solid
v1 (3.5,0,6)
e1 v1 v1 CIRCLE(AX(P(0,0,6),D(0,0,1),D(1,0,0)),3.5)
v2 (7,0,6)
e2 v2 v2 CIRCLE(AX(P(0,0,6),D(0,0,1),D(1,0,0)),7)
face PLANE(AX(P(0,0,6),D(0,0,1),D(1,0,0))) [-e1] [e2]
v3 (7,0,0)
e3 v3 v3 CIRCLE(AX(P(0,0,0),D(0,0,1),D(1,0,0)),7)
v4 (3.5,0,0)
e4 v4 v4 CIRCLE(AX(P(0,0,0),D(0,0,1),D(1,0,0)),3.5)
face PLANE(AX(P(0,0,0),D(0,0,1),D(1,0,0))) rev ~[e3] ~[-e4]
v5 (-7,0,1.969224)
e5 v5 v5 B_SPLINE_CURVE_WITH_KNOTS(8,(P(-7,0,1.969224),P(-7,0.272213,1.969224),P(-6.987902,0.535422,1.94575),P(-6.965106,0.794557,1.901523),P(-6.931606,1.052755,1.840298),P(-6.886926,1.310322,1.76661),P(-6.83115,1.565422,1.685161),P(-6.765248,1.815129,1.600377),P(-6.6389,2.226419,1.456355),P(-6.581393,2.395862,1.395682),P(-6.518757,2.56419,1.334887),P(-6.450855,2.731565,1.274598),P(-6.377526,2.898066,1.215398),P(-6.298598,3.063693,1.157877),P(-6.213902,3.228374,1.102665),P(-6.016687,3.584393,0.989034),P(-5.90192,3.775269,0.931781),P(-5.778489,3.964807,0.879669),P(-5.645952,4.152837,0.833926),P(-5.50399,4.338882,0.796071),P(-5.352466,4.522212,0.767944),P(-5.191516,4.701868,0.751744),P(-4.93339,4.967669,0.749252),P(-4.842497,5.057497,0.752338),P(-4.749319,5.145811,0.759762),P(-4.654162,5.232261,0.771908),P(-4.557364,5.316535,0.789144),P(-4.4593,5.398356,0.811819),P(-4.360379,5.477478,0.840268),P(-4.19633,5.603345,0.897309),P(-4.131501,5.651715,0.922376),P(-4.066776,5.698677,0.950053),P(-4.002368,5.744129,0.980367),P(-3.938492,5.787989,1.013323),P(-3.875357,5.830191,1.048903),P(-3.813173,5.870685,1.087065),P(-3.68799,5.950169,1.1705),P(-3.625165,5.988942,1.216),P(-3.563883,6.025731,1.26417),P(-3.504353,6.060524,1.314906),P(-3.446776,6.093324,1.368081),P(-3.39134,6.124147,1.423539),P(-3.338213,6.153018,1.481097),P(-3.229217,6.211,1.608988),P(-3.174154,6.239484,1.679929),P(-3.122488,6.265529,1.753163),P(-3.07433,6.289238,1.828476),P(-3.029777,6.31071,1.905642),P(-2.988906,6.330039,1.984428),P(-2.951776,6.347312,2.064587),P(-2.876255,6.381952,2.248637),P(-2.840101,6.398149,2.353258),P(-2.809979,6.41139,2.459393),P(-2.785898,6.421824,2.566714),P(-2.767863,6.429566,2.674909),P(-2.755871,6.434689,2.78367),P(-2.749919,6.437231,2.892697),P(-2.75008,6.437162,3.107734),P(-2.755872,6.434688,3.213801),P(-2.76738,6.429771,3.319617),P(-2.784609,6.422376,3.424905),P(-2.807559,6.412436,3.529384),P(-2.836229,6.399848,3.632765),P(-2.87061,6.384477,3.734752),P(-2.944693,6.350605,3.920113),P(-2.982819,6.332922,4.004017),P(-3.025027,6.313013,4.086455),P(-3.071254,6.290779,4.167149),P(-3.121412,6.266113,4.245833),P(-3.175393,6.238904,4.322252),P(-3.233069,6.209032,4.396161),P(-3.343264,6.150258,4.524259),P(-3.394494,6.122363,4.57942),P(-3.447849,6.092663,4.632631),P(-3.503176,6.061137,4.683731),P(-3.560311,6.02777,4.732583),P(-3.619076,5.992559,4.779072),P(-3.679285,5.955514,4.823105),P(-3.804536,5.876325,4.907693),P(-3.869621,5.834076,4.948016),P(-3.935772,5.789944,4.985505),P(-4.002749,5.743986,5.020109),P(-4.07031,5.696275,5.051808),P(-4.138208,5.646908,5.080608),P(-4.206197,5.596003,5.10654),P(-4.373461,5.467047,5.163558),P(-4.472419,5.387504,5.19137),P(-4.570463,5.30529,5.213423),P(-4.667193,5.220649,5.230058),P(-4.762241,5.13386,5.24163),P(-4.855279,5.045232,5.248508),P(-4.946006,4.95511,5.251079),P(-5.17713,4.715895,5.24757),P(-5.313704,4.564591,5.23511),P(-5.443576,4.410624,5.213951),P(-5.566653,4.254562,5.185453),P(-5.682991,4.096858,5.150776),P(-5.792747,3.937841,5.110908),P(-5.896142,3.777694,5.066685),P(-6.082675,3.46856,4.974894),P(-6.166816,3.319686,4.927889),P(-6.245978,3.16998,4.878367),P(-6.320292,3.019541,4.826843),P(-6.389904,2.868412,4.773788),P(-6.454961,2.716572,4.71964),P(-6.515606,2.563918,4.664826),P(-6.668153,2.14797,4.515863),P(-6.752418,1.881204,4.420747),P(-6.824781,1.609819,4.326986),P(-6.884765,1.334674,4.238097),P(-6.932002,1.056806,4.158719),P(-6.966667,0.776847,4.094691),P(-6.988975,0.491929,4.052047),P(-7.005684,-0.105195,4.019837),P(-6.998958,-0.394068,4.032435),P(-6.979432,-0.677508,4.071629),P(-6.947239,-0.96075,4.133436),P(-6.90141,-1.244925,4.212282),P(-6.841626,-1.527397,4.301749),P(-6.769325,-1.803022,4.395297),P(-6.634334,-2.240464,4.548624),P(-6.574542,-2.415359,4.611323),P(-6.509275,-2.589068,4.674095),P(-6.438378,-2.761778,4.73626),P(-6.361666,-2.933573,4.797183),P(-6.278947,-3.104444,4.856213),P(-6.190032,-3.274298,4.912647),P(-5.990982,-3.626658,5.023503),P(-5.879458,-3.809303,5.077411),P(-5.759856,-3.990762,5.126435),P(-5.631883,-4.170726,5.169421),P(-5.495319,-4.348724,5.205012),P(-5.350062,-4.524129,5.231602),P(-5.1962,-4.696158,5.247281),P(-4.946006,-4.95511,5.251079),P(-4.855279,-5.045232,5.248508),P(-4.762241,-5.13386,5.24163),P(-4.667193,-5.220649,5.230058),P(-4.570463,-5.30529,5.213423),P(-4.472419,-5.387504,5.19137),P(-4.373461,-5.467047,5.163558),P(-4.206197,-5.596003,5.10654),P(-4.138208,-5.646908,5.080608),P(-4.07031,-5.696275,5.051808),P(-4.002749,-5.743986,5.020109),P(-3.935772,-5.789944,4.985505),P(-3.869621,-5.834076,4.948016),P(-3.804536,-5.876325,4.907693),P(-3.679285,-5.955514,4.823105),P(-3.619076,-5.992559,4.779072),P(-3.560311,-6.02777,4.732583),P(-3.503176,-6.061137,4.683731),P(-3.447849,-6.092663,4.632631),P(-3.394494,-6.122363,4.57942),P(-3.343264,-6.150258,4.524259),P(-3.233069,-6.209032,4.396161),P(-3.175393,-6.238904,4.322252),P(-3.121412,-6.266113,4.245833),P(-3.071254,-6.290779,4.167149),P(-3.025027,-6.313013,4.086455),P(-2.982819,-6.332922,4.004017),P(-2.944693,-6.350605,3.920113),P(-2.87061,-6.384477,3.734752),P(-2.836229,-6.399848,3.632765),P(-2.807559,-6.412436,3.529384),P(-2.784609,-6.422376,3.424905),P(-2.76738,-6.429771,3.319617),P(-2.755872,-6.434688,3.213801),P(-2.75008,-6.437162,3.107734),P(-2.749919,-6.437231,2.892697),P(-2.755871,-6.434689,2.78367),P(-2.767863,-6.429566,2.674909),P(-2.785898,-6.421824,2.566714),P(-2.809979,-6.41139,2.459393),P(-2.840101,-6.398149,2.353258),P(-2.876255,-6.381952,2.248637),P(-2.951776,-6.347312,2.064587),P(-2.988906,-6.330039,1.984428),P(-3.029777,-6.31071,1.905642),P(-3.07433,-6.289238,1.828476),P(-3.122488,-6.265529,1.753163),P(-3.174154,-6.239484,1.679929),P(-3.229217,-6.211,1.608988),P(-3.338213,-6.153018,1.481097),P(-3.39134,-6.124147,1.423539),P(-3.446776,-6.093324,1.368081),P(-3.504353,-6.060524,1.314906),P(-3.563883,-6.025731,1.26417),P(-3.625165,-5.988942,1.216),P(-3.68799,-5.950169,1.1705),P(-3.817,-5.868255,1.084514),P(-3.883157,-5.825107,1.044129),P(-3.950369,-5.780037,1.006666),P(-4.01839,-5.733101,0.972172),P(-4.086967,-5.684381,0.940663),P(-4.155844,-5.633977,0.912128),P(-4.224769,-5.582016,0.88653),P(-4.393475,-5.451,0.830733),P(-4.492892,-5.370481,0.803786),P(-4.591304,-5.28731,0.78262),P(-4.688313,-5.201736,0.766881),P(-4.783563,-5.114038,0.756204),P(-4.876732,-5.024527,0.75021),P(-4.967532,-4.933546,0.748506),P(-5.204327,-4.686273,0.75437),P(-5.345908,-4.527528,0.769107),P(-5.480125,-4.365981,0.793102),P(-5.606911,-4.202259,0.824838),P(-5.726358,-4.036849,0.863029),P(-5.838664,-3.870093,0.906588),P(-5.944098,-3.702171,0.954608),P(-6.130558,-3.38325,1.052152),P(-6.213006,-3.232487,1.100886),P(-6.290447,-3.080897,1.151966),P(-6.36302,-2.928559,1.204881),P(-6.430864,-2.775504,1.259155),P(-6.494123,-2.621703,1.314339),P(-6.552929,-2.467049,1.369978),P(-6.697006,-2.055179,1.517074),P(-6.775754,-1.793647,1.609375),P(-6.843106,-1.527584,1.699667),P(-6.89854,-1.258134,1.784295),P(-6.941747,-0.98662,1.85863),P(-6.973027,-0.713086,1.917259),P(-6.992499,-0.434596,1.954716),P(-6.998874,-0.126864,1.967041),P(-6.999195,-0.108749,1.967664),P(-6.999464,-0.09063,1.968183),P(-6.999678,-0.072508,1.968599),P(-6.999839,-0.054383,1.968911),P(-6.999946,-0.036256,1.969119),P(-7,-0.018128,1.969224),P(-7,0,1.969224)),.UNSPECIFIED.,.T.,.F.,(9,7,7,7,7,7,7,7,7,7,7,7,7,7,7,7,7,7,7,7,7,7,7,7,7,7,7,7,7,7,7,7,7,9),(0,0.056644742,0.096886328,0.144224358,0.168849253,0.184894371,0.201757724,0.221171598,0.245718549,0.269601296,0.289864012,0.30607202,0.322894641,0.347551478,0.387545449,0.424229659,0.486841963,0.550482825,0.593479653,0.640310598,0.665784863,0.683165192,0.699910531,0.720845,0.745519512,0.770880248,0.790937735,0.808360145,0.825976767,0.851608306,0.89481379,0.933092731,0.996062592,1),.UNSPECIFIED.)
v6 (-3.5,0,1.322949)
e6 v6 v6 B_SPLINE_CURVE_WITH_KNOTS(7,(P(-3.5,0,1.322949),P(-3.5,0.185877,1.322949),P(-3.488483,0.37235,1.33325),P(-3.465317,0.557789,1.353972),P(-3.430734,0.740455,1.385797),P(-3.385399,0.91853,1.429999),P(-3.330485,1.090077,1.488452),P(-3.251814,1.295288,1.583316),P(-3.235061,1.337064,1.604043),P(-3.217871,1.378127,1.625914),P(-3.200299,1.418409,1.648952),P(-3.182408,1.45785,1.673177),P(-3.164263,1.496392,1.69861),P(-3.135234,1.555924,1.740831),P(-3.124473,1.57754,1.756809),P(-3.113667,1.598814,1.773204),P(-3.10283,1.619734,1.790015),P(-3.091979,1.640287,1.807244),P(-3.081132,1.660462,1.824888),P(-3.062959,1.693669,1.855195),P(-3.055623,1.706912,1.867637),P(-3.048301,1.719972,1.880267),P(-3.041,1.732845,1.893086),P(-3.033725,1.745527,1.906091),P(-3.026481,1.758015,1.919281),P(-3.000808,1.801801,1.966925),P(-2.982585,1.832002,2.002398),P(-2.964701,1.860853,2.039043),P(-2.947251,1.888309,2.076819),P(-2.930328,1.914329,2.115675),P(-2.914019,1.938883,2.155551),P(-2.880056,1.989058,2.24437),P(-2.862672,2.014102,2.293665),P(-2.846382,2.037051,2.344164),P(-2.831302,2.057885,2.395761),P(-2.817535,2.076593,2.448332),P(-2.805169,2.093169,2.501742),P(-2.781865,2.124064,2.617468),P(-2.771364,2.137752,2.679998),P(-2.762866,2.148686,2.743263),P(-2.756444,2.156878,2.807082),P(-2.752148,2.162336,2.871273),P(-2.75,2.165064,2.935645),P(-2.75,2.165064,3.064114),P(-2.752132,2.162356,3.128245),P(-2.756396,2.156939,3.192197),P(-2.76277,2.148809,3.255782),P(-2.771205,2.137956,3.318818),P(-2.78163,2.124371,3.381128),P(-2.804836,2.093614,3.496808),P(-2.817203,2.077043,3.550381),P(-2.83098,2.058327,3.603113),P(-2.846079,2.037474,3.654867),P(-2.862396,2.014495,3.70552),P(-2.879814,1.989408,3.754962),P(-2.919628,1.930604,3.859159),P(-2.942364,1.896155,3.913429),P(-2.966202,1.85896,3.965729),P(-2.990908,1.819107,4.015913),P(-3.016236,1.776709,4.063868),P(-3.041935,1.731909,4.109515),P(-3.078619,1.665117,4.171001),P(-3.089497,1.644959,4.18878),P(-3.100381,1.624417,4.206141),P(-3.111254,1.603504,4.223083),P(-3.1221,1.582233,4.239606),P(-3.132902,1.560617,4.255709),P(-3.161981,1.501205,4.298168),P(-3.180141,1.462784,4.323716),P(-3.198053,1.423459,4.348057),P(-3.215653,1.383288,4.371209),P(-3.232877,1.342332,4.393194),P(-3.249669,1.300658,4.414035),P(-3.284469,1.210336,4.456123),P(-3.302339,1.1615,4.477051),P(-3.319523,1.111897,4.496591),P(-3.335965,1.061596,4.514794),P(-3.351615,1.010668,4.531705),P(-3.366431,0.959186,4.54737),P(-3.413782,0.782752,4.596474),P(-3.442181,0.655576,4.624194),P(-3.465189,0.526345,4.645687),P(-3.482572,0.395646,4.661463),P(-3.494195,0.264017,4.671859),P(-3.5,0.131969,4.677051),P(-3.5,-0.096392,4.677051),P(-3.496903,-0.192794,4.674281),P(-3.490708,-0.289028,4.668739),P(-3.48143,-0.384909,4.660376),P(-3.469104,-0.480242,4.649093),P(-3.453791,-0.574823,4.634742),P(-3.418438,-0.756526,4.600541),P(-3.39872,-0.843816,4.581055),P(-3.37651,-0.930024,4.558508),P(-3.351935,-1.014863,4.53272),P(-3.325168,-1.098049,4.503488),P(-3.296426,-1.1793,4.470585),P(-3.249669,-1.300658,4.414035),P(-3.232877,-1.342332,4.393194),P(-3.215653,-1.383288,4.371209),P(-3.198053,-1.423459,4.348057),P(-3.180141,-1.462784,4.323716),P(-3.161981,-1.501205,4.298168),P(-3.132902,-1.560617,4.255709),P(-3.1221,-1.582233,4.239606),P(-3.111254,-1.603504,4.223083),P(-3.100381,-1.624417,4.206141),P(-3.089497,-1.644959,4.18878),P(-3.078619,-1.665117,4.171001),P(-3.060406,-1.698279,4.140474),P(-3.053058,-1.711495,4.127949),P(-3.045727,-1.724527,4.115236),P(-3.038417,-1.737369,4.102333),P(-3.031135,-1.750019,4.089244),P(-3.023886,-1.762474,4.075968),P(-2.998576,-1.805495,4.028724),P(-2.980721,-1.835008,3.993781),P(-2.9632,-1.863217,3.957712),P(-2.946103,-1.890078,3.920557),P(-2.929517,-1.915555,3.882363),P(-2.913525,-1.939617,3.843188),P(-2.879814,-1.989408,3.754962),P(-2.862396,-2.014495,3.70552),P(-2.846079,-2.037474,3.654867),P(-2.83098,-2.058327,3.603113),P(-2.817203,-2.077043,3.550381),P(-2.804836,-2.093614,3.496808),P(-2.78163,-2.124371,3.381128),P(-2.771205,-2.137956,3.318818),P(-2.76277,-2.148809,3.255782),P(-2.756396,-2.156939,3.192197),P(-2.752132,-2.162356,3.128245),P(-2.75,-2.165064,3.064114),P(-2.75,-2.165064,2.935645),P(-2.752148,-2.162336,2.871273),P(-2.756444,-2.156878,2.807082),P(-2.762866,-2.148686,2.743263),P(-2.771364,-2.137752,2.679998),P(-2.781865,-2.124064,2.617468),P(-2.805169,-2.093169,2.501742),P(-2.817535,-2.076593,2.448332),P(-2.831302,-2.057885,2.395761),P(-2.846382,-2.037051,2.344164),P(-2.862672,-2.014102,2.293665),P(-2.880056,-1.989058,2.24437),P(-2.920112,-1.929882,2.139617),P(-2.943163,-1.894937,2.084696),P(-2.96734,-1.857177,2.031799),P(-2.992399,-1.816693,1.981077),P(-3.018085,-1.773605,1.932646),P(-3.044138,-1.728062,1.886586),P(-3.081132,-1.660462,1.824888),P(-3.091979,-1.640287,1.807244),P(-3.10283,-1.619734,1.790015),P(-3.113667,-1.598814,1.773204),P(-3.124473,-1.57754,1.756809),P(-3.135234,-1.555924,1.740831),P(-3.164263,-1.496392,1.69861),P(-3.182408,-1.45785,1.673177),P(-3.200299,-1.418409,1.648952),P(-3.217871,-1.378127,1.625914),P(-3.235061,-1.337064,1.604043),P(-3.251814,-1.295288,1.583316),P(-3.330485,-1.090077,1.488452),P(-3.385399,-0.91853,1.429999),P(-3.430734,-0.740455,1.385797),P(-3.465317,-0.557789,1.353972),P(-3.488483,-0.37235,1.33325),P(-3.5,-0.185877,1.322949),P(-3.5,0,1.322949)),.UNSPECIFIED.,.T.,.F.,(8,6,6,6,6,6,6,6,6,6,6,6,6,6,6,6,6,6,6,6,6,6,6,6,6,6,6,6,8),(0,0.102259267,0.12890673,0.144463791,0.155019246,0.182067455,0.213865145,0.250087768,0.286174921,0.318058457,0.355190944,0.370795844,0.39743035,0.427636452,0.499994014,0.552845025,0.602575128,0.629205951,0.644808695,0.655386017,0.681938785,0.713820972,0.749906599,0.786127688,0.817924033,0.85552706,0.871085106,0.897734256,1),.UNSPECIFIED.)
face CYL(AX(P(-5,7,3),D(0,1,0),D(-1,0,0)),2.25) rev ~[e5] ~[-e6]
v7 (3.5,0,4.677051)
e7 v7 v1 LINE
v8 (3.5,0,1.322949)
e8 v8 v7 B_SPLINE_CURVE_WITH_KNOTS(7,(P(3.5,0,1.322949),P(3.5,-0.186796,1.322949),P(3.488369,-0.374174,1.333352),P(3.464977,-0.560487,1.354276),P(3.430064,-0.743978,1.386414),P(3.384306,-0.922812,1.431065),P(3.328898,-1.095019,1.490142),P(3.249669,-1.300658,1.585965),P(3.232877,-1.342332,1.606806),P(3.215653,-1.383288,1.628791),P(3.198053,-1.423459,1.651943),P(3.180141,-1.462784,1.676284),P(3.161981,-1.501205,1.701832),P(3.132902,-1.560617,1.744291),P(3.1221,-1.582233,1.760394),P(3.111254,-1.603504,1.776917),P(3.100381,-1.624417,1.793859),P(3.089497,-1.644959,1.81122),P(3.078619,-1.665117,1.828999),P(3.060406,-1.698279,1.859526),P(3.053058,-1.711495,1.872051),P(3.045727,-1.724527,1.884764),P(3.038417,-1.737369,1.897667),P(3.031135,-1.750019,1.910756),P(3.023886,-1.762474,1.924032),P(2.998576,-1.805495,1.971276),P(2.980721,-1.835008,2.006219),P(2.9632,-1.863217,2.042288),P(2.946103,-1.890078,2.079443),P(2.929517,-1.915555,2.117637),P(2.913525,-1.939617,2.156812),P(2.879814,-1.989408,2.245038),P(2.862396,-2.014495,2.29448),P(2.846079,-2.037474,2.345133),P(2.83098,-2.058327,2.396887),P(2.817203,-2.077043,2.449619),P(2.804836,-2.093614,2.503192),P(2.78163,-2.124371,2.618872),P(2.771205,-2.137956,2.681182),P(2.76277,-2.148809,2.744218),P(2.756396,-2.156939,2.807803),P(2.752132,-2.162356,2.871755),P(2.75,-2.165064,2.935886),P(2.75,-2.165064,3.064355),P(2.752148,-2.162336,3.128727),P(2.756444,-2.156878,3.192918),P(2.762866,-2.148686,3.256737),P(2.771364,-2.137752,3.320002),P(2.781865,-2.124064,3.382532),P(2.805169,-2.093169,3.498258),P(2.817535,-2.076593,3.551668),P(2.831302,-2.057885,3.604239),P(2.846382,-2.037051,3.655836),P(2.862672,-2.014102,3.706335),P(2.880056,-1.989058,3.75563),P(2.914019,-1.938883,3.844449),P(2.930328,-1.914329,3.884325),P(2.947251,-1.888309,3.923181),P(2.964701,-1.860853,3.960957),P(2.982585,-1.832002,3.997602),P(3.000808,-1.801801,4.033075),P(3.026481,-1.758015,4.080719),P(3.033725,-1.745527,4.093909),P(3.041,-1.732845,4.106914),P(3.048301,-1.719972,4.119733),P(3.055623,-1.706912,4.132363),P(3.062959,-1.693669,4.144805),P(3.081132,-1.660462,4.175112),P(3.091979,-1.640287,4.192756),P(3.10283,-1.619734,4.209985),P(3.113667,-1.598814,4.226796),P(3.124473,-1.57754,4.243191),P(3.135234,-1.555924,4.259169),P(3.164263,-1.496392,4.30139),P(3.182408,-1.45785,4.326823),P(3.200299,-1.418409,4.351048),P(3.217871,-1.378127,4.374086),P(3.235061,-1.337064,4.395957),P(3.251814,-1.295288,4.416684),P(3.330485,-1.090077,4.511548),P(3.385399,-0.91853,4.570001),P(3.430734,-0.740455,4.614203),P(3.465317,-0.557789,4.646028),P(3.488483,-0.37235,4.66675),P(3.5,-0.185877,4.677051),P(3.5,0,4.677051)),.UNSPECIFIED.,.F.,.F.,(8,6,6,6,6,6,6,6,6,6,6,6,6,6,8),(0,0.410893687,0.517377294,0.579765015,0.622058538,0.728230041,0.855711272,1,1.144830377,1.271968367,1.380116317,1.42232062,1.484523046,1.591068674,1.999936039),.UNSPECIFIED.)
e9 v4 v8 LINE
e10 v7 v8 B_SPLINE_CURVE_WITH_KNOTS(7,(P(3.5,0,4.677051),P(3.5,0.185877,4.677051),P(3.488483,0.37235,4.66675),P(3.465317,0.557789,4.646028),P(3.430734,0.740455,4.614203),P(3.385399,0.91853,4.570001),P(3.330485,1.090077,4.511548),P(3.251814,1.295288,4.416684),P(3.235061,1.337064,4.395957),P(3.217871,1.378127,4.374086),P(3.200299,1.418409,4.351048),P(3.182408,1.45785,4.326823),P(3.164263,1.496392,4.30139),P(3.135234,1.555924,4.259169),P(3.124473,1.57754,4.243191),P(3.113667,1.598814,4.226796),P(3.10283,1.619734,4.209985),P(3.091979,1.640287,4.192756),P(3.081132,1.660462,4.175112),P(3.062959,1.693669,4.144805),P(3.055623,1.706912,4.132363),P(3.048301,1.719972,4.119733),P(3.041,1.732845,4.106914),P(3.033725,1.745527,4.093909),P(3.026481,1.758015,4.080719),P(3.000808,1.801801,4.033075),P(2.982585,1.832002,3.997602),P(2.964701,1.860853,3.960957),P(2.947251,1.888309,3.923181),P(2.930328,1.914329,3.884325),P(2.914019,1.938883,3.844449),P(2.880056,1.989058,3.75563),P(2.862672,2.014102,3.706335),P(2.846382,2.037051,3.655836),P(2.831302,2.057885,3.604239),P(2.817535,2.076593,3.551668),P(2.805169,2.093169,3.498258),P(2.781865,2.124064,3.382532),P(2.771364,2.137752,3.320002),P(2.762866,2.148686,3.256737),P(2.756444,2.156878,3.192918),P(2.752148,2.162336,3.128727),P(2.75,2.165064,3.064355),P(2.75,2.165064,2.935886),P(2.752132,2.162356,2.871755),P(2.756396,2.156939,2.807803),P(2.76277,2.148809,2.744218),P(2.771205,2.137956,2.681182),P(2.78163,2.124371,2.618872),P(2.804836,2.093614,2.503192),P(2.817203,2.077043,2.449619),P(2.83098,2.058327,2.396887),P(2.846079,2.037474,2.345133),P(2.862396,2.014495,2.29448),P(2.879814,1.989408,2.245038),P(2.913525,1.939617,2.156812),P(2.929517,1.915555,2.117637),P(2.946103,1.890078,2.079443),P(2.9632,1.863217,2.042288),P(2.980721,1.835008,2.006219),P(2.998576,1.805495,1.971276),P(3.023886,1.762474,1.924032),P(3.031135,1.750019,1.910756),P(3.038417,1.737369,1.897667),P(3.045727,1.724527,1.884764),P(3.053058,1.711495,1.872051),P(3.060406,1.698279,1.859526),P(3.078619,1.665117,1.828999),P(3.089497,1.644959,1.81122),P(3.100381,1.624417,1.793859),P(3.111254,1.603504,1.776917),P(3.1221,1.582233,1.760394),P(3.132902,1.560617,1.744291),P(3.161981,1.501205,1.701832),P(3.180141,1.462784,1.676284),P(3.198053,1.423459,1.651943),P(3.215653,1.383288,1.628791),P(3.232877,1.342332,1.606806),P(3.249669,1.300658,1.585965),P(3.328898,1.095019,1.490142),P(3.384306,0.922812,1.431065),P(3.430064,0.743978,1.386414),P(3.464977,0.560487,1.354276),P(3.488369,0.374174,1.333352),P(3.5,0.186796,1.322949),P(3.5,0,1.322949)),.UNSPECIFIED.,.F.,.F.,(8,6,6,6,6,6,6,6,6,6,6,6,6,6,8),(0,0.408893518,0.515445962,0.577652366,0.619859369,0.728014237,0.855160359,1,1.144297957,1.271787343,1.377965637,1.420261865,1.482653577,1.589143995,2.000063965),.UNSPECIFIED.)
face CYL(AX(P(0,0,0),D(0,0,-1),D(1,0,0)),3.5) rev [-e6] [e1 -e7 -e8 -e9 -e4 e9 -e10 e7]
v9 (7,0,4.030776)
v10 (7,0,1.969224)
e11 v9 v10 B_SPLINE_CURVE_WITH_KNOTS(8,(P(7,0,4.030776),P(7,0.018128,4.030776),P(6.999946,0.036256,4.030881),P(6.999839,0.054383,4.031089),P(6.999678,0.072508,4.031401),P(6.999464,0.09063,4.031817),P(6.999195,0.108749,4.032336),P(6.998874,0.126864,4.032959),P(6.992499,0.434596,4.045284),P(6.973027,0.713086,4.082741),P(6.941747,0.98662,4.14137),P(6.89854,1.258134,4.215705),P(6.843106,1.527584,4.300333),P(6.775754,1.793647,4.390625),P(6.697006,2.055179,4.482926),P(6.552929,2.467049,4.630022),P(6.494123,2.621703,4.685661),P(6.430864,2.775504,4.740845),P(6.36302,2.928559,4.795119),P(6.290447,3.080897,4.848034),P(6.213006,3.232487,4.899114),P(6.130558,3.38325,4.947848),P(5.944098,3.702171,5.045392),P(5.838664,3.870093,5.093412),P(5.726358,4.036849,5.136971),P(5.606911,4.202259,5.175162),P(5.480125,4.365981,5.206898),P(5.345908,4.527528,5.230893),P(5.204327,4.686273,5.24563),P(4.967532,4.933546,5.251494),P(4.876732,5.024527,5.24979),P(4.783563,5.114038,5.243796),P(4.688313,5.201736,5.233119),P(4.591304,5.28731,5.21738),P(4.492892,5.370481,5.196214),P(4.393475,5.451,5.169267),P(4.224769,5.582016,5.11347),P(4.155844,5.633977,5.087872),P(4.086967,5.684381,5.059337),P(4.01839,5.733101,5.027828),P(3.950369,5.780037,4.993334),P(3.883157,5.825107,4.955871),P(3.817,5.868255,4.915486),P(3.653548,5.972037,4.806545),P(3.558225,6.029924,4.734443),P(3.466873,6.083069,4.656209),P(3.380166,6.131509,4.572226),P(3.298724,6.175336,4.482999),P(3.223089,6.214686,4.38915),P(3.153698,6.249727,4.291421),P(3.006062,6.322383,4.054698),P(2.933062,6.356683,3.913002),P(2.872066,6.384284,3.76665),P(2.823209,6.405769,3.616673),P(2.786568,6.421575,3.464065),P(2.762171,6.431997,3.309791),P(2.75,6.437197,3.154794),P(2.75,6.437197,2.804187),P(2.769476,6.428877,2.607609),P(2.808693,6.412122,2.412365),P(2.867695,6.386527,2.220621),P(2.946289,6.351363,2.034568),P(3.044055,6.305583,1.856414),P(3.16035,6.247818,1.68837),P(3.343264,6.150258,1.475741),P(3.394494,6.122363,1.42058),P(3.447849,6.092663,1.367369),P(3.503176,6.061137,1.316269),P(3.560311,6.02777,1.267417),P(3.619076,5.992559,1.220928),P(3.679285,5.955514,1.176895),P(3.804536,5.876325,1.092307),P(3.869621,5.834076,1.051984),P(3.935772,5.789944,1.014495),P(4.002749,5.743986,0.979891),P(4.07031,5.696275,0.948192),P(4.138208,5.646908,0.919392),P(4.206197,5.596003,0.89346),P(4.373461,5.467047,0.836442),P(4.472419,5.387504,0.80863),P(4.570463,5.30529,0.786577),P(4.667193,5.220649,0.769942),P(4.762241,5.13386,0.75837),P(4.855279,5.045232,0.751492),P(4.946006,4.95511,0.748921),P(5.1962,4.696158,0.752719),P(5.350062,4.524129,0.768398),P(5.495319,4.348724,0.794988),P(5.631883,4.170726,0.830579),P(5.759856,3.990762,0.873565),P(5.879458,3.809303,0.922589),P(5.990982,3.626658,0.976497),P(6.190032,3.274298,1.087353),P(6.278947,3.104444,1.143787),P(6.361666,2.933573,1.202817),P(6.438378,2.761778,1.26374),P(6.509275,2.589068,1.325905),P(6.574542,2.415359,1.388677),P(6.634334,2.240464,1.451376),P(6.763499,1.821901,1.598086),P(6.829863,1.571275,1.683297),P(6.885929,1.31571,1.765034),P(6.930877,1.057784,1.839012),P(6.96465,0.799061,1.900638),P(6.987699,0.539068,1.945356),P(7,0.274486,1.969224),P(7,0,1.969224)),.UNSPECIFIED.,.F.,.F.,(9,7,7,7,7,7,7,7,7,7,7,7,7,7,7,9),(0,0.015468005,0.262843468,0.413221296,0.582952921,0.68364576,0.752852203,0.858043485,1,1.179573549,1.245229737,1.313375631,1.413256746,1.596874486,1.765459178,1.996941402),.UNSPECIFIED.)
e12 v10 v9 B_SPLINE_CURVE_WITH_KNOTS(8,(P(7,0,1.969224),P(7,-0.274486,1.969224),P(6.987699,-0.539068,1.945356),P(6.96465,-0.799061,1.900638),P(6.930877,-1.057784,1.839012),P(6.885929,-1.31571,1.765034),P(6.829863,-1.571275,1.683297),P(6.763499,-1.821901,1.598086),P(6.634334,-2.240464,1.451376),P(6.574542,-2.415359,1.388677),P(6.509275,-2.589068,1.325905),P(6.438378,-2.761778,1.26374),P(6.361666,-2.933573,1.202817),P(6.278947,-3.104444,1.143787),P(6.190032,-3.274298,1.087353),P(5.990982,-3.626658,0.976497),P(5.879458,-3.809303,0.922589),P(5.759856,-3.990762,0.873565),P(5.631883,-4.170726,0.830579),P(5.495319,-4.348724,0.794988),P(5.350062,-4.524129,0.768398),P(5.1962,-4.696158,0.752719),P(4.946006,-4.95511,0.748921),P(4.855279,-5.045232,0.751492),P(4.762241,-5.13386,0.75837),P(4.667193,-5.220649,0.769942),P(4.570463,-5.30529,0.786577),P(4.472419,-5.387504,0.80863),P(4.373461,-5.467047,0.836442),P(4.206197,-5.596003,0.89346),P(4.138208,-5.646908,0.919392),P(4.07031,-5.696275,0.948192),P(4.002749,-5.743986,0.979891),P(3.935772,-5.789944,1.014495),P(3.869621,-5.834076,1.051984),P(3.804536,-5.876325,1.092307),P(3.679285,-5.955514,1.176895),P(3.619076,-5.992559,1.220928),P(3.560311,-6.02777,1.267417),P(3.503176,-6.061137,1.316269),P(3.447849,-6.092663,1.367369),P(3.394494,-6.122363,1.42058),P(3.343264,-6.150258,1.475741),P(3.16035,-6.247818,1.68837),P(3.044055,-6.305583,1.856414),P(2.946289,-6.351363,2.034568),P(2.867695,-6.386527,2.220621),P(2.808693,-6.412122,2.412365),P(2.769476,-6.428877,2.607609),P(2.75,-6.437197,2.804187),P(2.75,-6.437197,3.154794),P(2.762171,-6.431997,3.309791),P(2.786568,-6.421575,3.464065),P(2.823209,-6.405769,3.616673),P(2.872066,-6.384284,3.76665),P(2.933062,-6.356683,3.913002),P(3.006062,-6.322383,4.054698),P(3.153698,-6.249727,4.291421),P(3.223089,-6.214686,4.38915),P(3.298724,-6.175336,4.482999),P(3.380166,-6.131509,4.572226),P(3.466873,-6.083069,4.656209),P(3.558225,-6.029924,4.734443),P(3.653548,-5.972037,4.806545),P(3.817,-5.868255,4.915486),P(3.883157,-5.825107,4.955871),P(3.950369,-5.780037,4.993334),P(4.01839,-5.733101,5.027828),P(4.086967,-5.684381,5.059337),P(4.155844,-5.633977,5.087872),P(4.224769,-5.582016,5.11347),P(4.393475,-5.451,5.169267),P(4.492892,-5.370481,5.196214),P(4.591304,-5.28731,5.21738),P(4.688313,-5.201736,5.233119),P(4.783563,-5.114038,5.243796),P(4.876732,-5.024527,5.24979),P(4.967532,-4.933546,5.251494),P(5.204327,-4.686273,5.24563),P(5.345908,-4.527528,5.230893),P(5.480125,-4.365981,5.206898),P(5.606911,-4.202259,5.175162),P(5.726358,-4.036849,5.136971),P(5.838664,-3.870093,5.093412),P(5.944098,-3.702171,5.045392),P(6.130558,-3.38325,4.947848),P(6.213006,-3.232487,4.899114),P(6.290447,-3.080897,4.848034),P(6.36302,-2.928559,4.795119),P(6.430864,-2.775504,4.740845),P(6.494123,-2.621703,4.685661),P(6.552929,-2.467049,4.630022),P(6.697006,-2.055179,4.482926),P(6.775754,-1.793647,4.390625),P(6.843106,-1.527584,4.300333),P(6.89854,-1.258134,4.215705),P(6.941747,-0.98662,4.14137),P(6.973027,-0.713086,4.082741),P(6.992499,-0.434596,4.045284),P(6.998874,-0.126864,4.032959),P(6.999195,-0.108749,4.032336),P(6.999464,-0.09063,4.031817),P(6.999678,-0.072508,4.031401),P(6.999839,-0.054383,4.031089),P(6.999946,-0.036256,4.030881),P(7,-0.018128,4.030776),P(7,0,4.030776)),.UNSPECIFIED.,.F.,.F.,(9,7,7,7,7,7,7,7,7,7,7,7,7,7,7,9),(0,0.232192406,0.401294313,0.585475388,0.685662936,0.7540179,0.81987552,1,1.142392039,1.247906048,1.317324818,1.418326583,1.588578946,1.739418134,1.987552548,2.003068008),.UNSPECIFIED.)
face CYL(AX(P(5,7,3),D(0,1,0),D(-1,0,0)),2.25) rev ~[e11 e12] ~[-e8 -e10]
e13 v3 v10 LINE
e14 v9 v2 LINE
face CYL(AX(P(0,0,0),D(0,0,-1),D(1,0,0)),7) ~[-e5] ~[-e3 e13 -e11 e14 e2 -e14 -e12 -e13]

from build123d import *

# Parameters (mm, degrees)
ESQUISSE1_R      = 7
ESQUISSE1_R_2    = 3.5
EXTRUSION1_DEPTH = 6
ESQUISSE3_R      = 2.25
EXTRUSION4_DEPTH = 15


with BuildPart() as part:
    # Esquisse1 → Extrusion1 (new body)
    with BuildSketch(Plane.XY):
        Circle(ESQUISSE1_R)
        Circle(ESQUISSE1_R_2, mode=Mode.SUBTRACT)
    extrude(amount=EXTRUSION1_DEPTH)

    # Esquisse3 → Extrusion4 (cut, through all)
    with BuildSketch(Plane(origin=(0, 7, 0), x_dir=(-1, 0, 0), z_dir=(0, 1, 0))):
        with Locations((5, 3)):
            Circle(ESQUISSE3_R)
        with Locations((-5, 3)):
            Circle(ESQUISSE3_R)
    extrude(amount=-EXTRUSION4_DEPTH, mode=Mode.SUBTRACT)


solid = part.part
